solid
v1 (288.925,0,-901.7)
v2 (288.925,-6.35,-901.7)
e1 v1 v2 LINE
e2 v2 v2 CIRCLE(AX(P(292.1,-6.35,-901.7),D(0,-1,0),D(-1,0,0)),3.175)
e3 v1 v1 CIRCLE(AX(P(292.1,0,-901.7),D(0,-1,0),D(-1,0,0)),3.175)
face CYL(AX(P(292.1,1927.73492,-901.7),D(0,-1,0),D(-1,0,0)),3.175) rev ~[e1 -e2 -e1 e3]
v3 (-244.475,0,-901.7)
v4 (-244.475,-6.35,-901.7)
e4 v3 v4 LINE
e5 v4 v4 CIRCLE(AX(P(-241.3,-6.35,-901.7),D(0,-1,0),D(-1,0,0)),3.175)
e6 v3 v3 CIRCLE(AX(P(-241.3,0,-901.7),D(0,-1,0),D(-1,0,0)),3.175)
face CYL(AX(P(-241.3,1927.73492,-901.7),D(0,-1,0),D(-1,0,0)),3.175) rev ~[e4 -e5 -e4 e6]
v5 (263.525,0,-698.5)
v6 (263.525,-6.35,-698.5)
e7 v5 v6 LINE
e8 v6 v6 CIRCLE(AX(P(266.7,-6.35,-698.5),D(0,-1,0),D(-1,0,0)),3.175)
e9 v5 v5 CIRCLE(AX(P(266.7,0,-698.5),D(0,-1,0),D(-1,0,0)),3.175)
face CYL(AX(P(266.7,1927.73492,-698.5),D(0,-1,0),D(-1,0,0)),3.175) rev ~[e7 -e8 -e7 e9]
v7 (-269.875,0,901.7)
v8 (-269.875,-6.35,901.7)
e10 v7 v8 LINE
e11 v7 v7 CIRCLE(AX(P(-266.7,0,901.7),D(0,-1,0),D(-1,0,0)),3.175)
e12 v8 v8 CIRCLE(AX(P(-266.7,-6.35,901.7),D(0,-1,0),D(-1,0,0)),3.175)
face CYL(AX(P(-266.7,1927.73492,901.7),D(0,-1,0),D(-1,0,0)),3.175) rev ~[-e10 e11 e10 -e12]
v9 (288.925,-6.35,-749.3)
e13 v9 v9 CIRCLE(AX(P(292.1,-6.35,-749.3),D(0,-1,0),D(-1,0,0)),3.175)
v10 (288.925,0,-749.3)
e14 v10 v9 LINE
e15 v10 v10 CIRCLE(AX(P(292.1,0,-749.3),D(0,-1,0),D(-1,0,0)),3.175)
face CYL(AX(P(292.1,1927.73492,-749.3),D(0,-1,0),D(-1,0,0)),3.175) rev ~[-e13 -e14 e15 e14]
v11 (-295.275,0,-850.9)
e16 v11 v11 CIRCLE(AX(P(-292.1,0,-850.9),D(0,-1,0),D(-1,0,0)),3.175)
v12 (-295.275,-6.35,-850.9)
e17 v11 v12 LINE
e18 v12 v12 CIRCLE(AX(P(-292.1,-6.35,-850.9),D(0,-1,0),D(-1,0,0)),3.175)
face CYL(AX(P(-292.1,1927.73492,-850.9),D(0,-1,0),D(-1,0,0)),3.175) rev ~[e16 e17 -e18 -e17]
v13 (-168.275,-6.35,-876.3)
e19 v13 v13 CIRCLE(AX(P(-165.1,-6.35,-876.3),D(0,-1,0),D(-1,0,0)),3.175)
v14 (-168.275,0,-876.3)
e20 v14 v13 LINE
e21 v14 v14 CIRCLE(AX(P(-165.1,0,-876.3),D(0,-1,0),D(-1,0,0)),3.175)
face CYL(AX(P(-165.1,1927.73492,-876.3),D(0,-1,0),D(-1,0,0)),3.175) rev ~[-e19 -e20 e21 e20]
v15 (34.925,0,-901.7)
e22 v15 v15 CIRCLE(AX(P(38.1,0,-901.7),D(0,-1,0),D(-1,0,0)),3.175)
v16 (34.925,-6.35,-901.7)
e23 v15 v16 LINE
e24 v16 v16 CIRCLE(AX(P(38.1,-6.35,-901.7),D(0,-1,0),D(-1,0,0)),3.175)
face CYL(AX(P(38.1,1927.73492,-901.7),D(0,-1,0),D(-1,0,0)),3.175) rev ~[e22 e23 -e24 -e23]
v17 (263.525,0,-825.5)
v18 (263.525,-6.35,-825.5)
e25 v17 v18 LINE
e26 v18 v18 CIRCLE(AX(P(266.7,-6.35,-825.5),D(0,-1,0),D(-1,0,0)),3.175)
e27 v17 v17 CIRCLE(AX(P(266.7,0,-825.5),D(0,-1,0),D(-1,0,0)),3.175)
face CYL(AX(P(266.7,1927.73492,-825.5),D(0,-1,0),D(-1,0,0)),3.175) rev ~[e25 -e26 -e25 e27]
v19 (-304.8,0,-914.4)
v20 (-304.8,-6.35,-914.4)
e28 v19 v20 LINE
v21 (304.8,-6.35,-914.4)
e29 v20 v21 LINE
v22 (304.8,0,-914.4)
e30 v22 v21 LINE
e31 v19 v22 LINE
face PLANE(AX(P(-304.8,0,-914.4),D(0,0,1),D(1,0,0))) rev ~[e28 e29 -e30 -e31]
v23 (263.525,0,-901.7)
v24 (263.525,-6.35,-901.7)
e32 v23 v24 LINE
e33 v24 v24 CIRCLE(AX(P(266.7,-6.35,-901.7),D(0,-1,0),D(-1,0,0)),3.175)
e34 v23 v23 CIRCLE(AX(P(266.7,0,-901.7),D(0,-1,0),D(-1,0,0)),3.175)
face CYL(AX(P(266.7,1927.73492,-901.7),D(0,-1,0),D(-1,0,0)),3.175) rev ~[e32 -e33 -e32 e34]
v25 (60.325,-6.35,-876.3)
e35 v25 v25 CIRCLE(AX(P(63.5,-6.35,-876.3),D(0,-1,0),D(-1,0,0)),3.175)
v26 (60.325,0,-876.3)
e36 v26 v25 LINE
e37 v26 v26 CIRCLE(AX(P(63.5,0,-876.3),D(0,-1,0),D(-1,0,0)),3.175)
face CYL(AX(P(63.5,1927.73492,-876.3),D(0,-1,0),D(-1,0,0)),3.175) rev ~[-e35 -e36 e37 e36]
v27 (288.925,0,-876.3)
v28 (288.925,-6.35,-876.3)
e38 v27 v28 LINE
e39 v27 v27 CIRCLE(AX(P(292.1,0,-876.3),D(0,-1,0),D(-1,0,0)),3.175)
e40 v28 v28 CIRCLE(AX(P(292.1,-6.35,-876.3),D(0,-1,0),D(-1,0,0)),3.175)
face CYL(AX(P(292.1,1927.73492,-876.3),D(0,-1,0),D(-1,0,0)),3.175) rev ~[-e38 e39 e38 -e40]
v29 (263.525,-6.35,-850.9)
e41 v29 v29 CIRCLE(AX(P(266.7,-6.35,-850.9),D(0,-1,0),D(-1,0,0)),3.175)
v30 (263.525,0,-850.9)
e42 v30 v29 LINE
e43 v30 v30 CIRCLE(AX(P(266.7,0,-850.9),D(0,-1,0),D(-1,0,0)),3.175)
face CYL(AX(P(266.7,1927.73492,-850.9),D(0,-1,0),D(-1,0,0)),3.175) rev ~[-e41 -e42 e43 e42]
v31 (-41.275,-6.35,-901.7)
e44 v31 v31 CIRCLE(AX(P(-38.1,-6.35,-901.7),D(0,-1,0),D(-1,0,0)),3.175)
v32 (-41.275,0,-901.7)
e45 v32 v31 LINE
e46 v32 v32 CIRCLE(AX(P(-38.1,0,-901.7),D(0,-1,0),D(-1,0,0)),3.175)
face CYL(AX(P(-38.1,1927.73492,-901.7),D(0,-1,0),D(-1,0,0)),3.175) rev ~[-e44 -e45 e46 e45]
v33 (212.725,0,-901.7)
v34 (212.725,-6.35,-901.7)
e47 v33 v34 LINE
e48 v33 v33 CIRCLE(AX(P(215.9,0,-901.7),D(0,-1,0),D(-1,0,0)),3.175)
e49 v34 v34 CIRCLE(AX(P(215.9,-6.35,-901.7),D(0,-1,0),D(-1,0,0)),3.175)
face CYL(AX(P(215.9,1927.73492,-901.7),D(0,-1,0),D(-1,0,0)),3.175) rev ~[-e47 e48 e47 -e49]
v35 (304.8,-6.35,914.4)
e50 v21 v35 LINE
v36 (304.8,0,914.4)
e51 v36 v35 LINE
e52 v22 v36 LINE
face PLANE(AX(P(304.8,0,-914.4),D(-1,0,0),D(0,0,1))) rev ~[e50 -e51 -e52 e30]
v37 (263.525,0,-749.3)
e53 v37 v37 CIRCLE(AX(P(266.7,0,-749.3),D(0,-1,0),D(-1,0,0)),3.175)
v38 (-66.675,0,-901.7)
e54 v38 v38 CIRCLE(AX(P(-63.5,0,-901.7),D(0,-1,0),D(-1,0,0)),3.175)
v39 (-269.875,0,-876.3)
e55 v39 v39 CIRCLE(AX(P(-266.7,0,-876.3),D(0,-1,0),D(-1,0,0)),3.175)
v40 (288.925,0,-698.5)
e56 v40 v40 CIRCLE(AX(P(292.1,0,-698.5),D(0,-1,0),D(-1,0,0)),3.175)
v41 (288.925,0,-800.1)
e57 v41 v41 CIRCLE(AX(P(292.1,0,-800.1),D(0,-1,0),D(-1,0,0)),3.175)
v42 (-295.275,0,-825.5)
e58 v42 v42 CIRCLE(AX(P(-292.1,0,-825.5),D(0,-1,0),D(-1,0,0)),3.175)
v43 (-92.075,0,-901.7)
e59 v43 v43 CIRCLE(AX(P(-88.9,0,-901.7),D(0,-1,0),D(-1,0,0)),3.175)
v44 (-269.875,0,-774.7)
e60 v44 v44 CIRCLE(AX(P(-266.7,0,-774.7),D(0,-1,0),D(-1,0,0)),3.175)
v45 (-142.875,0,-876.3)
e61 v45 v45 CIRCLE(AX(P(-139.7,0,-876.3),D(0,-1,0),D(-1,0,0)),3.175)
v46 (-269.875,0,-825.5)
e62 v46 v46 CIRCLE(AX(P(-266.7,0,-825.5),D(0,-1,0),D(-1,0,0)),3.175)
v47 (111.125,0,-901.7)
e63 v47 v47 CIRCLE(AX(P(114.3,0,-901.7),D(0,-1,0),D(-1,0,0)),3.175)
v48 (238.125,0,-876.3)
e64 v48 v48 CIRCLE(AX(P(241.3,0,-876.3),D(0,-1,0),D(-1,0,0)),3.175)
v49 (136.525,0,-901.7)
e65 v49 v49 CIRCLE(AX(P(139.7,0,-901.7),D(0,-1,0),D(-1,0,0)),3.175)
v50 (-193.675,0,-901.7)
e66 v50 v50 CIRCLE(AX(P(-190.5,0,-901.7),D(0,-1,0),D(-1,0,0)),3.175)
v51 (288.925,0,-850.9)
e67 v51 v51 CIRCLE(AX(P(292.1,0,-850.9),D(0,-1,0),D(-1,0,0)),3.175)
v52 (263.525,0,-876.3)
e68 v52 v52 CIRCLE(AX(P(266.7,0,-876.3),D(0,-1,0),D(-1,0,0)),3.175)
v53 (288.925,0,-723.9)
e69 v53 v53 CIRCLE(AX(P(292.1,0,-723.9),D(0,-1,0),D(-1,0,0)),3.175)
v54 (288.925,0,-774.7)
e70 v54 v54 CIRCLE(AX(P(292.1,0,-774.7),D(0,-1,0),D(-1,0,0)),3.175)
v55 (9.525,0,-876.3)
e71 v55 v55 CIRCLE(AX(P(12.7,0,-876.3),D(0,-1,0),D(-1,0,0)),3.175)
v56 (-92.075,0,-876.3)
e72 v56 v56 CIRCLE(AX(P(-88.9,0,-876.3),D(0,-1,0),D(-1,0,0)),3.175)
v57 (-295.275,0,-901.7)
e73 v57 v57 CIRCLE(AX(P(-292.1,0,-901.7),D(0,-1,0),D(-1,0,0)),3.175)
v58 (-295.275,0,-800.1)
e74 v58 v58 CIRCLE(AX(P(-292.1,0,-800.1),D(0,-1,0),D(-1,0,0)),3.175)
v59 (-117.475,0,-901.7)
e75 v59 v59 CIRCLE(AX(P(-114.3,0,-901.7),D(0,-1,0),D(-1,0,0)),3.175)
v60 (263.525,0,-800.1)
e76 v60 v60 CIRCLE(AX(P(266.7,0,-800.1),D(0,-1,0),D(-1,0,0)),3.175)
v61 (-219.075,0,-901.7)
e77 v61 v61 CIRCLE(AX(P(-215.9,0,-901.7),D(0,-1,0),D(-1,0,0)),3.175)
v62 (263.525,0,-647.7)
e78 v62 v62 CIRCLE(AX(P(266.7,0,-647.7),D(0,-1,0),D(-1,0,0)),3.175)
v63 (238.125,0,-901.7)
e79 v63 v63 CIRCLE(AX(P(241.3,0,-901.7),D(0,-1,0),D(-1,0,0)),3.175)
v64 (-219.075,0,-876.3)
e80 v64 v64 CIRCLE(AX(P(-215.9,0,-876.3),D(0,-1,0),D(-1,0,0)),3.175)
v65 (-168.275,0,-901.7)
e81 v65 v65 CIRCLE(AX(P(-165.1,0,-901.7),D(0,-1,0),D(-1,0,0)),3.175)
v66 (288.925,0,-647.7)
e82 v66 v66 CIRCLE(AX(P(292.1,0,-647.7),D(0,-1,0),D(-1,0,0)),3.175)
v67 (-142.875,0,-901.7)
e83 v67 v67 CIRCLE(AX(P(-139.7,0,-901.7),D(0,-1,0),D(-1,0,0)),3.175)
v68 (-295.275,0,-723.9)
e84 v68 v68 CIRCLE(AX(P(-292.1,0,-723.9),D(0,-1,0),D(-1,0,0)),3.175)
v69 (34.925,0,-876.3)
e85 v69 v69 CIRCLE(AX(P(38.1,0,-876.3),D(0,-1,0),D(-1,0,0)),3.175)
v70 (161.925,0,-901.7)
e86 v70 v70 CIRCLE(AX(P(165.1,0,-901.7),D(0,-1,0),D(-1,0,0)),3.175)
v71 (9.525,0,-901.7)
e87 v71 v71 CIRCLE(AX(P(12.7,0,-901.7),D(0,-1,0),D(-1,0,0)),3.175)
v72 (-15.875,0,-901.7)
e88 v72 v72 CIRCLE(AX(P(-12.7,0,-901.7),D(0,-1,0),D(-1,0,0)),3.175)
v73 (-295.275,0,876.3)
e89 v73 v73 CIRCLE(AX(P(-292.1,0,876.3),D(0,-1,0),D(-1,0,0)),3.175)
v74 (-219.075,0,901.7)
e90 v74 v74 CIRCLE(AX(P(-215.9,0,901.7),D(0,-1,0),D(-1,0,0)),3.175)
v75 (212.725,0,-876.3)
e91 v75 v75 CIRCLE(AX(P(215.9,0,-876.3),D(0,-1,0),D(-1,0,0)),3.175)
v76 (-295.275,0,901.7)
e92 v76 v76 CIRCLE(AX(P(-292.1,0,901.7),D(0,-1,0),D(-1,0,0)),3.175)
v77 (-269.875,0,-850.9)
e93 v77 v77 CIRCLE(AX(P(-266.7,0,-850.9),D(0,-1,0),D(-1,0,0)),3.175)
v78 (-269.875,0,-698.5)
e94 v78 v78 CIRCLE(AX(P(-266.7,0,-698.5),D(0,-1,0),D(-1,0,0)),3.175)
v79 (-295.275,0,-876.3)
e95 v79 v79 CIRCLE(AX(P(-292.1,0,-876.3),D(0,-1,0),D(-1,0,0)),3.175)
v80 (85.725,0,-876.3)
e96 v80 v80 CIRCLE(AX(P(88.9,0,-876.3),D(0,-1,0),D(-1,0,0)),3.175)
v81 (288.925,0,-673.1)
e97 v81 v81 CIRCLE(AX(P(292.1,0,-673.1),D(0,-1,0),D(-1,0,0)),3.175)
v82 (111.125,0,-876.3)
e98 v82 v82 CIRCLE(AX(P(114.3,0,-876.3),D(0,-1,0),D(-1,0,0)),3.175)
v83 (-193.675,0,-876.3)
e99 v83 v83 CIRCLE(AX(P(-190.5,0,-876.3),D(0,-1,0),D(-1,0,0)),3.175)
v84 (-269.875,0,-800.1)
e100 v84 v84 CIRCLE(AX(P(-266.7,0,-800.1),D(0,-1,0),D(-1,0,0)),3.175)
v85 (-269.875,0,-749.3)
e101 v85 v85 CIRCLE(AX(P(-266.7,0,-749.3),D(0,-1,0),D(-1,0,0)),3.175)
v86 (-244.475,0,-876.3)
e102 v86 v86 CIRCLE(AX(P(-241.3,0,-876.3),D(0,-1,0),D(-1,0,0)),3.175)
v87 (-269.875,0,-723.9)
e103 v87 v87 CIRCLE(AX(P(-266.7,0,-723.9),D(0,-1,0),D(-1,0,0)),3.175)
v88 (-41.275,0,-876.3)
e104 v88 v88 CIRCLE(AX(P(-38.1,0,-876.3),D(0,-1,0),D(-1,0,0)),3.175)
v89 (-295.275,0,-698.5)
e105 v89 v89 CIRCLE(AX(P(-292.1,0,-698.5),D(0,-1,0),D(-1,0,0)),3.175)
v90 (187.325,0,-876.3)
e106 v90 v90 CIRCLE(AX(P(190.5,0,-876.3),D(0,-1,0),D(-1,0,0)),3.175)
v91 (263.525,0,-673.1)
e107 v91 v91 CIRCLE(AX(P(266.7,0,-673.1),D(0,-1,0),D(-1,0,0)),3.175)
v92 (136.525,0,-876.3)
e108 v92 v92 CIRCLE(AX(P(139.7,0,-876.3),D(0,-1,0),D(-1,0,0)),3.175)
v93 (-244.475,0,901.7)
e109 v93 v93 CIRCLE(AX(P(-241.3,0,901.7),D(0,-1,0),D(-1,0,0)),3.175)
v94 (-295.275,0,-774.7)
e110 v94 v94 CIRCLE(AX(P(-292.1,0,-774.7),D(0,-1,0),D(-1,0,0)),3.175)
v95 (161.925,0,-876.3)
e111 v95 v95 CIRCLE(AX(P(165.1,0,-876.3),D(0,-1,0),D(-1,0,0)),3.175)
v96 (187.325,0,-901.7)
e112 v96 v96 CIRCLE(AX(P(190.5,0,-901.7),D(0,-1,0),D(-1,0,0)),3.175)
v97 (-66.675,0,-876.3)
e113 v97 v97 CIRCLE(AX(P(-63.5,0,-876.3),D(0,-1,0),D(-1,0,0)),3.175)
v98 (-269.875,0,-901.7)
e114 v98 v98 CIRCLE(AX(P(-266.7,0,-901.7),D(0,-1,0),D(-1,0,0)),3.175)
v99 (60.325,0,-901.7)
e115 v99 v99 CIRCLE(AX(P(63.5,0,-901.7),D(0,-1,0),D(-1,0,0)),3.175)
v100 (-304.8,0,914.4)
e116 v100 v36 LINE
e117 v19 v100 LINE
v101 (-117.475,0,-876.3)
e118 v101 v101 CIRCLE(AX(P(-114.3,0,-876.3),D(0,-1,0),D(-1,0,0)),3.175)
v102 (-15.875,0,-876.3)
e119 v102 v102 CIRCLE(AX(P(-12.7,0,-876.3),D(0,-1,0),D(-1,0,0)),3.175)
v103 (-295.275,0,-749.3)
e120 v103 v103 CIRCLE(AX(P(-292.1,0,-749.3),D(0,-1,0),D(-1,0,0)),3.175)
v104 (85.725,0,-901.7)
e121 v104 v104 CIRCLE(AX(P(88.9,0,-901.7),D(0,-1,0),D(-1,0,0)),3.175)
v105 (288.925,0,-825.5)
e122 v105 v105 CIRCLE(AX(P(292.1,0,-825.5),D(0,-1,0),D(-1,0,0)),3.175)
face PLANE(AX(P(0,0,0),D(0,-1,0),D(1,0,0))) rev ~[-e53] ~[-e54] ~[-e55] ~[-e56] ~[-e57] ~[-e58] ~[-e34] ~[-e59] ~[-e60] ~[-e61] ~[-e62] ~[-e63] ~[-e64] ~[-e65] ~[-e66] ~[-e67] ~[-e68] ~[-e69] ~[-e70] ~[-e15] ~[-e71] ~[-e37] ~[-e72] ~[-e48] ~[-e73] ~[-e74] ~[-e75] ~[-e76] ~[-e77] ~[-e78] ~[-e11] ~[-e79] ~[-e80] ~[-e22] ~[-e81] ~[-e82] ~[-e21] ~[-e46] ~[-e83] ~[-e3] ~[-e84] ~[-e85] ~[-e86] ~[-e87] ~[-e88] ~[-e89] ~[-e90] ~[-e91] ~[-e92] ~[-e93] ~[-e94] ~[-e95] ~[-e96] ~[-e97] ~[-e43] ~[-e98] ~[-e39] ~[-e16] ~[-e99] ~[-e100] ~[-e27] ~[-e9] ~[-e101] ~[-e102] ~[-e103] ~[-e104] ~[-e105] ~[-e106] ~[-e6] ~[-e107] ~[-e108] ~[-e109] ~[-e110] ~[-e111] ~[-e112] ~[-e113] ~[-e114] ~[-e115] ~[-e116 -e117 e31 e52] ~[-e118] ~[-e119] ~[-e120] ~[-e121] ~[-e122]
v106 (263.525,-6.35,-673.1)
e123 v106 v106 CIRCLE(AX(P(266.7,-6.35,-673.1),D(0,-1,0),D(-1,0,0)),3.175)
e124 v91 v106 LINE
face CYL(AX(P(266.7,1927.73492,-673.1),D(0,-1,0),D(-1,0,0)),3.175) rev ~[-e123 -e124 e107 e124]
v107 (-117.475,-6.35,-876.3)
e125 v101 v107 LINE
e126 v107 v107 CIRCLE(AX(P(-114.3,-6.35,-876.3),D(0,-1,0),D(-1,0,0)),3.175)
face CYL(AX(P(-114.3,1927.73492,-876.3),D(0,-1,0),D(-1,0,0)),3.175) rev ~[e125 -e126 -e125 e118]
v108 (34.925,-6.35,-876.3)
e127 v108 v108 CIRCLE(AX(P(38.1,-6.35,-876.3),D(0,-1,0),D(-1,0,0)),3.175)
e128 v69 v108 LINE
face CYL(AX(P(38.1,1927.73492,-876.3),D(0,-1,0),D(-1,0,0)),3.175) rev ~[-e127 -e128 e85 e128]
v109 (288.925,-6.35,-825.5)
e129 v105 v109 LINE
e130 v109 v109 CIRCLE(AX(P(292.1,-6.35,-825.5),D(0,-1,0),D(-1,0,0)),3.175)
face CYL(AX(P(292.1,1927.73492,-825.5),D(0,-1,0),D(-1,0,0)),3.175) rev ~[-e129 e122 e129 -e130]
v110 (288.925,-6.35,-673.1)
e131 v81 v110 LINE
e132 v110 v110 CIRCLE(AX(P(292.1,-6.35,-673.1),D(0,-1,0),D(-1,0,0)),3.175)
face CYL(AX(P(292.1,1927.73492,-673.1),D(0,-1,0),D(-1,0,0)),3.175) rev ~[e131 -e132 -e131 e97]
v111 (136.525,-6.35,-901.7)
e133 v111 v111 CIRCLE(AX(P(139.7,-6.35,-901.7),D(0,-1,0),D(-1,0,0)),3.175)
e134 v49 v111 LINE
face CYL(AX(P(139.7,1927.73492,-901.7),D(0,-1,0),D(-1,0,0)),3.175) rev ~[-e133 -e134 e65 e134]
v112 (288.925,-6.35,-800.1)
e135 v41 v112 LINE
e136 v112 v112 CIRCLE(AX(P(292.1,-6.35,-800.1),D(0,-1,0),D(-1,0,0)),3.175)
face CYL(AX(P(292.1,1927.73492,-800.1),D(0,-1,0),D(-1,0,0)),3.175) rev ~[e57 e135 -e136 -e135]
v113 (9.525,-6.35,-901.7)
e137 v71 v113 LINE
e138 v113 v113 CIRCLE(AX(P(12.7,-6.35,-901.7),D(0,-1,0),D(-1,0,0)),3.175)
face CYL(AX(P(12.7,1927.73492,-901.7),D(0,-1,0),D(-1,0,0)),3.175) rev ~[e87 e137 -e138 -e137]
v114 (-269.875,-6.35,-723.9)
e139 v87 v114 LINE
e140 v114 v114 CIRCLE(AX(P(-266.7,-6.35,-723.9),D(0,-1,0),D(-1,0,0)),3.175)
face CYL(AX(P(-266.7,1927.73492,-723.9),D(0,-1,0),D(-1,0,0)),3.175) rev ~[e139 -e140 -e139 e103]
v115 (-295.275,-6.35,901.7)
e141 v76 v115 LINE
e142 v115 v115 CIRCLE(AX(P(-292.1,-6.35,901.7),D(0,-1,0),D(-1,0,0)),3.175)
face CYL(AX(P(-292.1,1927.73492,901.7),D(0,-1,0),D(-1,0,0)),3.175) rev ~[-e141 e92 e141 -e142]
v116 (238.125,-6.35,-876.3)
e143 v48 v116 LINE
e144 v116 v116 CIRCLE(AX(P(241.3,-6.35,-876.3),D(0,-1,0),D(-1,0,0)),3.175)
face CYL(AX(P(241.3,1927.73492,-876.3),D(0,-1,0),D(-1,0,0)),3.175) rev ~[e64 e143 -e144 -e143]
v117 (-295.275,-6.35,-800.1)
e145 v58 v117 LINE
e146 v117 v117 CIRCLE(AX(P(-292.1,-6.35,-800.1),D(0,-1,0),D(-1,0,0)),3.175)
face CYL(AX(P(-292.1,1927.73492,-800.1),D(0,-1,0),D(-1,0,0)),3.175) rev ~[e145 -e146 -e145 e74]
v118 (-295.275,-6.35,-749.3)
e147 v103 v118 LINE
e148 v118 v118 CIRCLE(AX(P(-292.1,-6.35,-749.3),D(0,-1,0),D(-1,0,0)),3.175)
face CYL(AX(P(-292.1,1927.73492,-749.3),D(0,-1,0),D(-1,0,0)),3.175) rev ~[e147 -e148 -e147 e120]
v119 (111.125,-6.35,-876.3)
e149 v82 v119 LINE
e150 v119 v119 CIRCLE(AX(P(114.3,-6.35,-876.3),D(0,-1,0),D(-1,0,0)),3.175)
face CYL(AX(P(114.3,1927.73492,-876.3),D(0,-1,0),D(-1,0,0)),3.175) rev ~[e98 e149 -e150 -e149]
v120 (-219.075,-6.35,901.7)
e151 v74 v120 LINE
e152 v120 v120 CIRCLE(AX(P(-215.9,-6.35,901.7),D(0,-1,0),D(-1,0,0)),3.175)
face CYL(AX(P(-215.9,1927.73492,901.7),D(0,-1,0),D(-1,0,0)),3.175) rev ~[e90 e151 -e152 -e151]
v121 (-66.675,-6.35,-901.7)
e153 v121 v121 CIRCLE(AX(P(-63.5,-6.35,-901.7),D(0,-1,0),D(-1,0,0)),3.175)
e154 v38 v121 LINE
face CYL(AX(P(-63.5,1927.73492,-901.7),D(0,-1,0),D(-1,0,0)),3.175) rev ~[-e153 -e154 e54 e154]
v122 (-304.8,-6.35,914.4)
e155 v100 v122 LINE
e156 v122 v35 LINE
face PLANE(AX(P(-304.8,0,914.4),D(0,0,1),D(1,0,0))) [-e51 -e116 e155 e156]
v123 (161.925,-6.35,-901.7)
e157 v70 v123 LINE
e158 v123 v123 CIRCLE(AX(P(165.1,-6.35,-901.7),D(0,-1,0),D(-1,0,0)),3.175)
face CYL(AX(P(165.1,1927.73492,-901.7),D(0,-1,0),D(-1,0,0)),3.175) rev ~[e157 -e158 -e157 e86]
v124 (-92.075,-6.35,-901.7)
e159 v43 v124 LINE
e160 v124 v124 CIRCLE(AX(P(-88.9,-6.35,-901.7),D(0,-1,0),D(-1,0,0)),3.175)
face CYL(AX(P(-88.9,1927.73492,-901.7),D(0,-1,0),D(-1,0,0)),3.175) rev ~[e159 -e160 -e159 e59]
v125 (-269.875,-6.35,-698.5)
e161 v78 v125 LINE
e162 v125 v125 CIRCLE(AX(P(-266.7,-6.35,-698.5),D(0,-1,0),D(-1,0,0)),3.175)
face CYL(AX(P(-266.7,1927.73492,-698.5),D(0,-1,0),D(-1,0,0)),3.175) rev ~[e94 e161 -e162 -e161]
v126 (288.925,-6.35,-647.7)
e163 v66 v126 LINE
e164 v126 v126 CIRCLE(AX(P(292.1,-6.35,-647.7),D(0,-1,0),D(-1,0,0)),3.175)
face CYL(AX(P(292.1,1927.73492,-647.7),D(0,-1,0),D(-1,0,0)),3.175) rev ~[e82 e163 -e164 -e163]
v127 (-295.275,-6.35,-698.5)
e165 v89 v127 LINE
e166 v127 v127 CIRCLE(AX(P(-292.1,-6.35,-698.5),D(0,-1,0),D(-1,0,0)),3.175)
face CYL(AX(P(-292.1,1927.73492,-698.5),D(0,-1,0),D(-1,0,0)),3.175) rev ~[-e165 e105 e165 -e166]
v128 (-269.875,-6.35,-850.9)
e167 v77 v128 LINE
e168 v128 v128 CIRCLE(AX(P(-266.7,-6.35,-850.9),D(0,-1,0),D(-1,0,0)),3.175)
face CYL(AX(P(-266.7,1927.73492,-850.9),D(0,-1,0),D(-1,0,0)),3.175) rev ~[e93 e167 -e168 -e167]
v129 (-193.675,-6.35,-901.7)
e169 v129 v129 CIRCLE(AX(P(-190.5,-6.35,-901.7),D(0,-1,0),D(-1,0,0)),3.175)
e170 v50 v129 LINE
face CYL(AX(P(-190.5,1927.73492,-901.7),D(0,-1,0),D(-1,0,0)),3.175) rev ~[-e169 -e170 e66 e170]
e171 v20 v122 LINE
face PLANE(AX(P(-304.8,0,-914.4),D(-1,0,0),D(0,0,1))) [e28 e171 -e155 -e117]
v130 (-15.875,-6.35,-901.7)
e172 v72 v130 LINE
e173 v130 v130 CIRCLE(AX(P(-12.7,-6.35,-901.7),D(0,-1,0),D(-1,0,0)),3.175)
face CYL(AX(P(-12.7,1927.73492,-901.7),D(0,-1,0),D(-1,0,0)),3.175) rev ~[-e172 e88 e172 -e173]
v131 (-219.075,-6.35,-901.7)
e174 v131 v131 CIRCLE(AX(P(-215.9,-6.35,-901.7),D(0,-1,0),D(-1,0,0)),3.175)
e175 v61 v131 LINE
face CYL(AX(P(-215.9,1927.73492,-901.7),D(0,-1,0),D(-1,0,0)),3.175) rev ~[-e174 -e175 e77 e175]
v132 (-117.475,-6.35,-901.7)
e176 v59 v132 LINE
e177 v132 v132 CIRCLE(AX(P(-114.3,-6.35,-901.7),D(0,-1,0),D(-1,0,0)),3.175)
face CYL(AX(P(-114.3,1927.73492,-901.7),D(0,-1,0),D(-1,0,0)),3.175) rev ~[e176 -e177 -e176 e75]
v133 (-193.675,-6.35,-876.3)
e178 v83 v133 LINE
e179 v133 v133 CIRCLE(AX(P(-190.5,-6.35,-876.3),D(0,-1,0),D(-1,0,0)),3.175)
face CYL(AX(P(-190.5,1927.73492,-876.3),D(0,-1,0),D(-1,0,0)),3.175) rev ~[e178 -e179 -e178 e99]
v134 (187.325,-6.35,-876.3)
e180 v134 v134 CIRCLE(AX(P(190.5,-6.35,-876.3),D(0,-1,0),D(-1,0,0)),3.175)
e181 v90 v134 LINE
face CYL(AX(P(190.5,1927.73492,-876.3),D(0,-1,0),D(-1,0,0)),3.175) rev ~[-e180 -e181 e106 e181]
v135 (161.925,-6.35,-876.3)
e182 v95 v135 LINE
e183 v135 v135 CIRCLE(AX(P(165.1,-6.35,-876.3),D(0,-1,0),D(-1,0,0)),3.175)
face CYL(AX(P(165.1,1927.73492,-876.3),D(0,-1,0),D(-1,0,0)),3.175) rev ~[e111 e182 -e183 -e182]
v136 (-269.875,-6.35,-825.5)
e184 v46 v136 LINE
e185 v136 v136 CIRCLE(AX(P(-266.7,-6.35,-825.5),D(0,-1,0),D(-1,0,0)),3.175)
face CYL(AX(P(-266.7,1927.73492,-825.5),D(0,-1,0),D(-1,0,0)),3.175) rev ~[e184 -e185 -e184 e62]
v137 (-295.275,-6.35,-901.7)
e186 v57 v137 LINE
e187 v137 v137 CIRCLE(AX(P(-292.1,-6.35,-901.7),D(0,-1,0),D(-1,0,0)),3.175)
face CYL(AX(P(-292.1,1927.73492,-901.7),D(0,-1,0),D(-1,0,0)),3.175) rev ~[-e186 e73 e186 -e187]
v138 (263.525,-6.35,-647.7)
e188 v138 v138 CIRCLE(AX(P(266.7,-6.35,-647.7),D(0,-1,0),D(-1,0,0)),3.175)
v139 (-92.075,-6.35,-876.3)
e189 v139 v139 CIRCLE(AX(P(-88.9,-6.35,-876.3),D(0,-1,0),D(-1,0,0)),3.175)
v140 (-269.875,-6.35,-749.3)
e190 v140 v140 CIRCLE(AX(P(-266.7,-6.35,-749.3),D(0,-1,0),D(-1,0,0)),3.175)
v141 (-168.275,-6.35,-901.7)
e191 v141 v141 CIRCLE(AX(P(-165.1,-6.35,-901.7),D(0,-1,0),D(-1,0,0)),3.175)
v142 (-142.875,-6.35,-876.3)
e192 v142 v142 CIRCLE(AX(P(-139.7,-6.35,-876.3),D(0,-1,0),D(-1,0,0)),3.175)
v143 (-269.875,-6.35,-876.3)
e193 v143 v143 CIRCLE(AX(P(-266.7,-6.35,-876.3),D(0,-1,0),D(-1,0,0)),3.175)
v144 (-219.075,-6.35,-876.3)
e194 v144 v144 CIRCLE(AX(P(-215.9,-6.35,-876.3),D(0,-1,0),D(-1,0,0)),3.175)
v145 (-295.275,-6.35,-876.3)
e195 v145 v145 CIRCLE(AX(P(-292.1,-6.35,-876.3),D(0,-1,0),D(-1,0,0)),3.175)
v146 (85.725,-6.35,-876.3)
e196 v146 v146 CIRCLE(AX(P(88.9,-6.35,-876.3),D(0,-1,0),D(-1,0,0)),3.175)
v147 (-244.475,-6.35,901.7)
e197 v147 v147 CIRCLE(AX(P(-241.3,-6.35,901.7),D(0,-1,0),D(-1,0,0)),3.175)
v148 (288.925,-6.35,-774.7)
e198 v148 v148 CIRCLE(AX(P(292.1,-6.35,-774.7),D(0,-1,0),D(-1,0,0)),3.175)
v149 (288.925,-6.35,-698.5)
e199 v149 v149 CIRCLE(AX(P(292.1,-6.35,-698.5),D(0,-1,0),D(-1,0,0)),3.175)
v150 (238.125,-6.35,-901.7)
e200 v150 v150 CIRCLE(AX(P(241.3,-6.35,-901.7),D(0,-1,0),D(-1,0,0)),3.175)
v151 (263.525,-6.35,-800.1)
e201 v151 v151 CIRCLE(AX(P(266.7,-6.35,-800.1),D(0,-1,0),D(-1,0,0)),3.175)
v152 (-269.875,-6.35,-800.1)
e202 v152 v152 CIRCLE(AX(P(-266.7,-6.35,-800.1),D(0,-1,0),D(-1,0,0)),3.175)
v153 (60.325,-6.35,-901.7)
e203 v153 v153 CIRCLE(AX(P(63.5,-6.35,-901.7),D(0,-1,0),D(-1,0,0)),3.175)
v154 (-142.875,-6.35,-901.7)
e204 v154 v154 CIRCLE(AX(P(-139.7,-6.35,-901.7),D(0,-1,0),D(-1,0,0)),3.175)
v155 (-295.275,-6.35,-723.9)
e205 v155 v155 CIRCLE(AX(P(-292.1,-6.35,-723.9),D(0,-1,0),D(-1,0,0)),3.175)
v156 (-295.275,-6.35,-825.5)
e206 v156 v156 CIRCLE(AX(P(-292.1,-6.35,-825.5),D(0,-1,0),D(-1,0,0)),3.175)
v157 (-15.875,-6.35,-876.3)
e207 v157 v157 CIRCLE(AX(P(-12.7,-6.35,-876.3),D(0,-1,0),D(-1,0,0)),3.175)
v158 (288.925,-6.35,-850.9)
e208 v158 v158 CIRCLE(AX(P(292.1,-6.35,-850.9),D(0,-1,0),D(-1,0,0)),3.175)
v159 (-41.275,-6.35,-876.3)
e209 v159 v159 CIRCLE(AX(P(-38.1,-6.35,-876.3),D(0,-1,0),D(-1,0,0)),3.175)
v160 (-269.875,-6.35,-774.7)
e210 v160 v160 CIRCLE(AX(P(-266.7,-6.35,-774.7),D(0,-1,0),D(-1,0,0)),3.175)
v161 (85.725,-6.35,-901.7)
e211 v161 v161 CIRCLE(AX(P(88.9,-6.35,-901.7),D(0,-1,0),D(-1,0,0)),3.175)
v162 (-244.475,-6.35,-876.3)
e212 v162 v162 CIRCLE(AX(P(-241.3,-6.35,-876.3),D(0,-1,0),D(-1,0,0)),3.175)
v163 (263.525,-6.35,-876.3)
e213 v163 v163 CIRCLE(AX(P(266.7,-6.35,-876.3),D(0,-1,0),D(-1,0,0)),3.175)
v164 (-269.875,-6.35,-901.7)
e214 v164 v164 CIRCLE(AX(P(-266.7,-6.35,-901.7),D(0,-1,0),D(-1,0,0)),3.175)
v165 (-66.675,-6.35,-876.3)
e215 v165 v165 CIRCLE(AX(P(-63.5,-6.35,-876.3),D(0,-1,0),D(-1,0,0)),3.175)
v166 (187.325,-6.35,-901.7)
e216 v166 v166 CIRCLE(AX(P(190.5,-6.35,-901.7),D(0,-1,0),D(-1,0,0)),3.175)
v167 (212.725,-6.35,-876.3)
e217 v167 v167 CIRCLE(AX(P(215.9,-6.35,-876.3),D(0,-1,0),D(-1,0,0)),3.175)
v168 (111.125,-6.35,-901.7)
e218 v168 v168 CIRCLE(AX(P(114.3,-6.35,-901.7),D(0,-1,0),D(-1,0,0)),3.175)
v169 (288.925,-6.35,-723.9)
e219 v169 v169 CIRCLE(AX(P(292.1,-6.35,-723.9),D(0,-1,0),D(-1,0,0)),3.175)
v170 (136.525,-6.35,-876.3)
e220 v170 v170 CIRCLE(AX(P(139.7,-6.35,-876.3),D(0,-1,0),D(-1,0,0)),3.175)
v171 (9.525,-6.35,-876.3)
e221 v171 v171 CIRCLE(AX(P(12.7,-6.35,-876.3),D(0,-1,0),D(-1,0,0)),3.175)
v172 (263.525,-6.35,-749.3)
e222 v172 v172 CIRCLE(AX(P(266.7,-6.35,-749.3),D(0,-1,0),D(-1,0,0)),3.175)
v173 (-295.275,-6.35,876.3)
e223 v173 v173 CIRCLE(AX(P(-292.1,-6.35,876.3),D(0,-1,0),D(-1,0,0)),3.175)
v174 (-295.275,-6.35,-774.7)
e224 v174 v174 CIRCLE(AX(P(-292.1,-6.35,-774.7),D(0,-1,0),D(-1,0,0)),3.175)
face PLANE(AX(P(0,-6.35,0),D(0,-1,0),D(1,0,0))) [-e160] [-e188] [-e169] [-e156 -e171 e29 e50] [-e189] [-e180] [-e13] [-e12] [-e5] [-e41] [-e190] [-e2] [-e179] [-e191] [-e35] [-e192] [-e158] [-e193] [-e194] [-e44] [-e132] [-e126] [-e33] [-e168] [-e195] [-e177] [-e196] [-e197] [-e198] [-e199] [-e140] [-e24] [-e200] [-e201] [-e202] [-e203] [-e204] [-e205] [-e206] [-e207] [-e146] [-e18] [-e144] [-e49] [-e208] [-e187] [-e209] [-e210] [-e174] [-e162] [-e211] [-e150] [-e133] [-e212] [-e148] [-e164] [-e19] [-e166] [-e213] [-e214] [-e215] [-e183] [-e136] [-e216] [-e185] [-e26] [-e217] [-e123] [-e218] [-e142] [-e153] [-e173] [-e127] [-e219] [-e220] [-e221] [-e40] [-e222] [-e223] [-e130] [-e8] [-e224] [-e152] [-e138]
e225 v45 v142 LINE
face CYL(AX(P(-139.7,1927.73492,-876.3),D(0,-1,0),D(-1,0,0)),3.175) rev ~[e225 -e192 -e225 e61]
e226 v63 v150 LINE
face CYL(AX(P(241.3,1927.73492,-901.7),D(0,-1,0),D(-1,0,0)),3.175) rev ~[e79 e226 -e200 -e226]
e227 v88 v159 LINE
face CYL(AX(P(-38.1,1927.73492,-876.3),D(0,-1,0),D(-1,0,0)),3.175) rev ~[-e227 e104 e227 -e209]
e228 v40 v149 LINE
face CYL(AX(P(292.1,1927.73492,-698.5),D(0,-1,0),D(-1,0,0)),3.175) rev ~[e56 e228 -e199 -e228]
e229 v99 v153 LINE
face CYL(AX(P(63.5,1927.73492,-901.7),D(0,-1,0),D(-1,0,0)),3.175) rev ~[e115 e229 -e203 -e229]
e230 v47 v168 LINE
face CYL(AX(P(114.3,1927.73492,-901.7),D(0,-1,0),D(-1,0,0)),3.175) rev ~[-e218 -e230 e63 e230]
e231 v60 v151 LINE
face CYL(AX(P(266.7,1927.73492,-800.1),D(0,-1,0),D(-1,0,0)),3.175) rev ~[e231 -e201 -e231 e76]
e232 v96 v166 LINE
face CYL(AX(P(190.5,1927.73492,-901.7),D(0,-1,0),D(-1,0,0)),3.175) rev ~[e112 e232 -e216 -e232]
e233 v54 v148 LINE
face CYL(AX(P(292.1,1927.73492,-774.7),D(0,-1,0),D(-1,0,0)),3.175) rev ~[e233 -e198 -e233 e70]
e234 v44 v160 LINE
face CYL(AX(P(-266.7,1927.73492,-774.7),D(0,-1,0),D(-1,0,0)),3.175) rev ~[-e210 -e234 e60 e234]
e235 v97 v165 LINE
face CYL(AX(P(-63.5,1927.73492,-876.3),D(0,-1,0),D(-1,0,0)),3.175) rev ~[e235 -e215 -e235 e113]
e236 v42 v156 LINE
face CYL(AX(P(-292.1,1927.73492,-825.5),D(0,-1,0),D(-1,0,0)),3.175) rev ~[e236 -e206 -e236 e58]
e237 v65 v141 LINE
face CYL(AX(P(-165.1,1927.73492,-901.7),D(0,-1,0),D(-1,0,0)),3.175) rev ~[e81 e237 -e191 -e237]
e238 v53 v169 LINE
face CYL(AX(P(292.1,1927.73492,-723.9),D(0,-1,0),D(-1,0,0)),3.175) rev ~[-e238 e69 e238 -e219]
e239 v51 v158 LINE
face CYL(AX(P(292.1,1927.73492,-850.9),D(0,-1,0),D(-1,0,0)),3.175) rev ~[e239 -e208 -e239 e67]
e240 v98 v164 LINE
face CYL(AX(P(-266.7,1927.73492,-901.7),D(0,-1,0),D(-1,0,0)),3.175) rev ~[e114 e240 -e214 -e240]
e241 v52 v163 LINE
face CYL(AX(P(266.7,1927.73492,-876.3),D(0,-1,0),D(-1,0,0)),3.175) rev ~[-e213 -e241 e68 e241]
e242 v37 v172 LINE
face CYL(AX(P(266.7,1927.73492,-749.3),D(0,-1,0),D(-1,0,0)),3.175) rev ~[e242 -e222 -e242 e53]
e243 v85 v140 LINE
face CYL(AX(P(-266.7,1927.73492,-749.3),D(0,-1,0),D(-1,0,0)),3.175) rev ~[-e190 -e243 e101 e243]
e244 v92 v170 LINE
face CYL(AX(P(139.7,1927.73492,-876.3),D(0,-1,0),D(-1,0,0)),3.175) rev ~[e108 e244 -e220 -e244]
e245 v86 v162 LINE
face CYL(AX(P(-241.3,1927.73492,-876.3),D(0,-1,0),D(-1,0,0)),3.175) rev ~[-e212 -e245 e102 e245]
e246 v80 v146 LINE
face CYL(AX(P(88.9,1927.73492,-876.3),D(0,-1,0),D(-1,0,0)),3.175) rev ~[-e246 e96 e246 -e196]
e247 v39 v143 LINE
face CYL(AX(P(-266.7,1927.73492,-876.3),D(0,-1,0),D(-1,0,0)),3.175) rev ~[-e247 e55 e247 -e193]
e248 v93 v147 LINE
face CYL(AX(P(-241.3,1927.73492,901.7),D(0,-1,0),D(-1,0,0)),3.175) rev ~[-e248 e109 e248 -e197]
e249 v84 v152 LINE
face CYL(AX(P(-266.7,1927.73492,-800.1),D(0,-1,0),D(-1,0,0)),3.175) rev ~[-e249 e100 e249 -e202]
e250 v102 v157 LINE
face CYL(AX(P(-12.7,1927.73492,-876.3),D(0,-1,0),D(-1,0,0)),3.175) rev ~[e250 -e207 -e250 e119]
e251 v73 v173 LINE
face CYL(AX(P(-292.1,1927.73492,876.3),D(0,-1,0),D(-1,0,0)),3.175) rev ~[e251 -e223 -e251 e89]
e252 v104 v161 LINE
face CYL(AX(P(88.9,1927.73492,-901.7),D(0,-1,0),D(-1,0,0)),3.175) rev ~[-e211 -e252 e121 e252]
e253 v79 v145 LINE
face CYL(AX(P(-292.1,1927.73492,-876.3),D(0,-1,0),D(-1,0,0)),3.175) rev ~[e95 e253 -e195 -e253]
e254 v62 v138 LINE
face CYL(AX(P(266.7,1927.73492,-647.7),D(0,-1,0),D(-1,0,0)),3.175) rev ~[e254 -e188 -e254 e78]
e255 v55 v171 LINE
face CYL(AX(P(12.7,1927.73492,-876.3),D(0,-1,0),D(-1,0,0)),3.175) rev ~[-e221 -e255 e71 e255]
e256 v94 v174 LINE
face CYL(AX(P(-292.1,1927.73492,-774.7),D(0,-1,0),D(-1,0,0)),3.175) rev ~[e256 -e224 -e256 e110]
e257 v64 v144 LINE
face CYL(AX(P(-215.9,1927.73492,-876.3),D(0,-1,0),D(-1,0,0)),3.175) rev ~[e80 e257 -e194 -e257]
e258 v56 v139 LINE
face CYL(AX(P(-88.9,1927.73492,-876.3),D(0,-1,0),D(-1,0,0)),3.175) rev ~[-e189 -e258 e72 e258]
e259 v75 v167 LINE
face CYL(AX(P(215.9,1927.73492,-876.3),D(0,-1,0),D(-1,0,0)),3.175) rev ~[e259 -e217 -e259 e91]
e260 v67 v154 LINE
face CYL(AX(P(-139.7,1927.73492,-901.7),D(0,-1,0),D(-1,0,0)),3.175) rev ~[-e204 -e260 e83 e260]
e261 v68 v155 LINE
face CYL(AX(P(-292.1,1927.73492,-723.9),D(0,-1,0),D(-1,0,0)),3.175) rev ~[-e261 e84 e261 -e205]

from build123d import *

# Parameters (mm, degrees)
F0_W     = 609.6
F0_H     = 1828.8
F1_DEPTH = 6.35
F2_D     = 6.35


with BuildPart() as f1:
    # F0 (on Front) → F1 (new body)
    with BuildSketch(Plane.XZ):
        Rectangle(F0_W, F0_H)
    extrude(amount=F1_DEPTH)

    # F2 (through all)
    with Locations(Plane(origin=(0, 0, 0), x_dir=(1, 0, 0), z_dir=(0, 1, 0))):
        with Locations((-292.1, 901.7), (-266.7, 901.7), (-241.3, 901.7), (-215.9, 901.7), (-190.5, 901.7), (-165.1, 901.7), (-139.7, 901.7), (-114.3, 901.7), (-88.9, 901.7), (-63.5, 901.7), (-38.1, 901.7), (-12.7, 901.7), (12.7, 901.7), (38.1, 901.7), (63.5, 901.7), (114.3, 901.7), (165.1, 901.7), (190.5, 901.7), (215.9, 901.7), (241.3, 901.7), (266.7, 901.7), (292.1, 901.7), (139.7, 901.7), (88.9, 901.7), (292.1, 876.3), (292.1, 850.9), (292.1, 825.5), (292.1, 800.1), (292.1, 774.7), (292.1, 723.9), (292.1, 698.5), (292.1, 749.3), (292.1, 673.1), (292.1, 647.7), (266.7, 876.3), (241.3, 876.3), (215.9, 876.3), (190.5, 876.3), (165.1, 876.3), (215.9, 876.3), (139.7, 876.3), (114.3, 876.3), (88.9, 876.3), (63.5, 876.3), (38.1, 876.3), (12.7, 876.3), (-12.7, 876.3), (-38.1, 876.3), (-63.5, 876.3), (-88.9, 876.3), (-114.3, 876.3), (-139.7, 876.3), (-165.1, 876.3), (-190.5, 876.3), (-215.9, 876.3), (-241.3, 876.3), (-266.7, 876.3), (-292.1, 876.3), (-292.1, 850.9), (-266.7, 850.9), (-266.7, 825.5), (-292.1, 825.5), (-292.1, 800.1), (-266.7, 800.1), (-266.7, 774.7), (-292.1, 774.7), (-292.1, 749.3), (-266.7, 749.3), (-266.7, 723.9), (-292.1, 723.9), (-292.1, 698.5), (-266.7, 698.5), (266.7, 647.7), (266.7, 673.1), (266.7, 698.5), (266.7, 749.3), (266.7, 800.1), (266.7, 825.5), (266.7, 850.9), (-292.1, -901.7), (-292.1, -876.3), (-266.7, -901.7), (-241.3, -901.7), (-215.9, -901.7)):
            Hole(F2_D / 2)


solid = f1.part
